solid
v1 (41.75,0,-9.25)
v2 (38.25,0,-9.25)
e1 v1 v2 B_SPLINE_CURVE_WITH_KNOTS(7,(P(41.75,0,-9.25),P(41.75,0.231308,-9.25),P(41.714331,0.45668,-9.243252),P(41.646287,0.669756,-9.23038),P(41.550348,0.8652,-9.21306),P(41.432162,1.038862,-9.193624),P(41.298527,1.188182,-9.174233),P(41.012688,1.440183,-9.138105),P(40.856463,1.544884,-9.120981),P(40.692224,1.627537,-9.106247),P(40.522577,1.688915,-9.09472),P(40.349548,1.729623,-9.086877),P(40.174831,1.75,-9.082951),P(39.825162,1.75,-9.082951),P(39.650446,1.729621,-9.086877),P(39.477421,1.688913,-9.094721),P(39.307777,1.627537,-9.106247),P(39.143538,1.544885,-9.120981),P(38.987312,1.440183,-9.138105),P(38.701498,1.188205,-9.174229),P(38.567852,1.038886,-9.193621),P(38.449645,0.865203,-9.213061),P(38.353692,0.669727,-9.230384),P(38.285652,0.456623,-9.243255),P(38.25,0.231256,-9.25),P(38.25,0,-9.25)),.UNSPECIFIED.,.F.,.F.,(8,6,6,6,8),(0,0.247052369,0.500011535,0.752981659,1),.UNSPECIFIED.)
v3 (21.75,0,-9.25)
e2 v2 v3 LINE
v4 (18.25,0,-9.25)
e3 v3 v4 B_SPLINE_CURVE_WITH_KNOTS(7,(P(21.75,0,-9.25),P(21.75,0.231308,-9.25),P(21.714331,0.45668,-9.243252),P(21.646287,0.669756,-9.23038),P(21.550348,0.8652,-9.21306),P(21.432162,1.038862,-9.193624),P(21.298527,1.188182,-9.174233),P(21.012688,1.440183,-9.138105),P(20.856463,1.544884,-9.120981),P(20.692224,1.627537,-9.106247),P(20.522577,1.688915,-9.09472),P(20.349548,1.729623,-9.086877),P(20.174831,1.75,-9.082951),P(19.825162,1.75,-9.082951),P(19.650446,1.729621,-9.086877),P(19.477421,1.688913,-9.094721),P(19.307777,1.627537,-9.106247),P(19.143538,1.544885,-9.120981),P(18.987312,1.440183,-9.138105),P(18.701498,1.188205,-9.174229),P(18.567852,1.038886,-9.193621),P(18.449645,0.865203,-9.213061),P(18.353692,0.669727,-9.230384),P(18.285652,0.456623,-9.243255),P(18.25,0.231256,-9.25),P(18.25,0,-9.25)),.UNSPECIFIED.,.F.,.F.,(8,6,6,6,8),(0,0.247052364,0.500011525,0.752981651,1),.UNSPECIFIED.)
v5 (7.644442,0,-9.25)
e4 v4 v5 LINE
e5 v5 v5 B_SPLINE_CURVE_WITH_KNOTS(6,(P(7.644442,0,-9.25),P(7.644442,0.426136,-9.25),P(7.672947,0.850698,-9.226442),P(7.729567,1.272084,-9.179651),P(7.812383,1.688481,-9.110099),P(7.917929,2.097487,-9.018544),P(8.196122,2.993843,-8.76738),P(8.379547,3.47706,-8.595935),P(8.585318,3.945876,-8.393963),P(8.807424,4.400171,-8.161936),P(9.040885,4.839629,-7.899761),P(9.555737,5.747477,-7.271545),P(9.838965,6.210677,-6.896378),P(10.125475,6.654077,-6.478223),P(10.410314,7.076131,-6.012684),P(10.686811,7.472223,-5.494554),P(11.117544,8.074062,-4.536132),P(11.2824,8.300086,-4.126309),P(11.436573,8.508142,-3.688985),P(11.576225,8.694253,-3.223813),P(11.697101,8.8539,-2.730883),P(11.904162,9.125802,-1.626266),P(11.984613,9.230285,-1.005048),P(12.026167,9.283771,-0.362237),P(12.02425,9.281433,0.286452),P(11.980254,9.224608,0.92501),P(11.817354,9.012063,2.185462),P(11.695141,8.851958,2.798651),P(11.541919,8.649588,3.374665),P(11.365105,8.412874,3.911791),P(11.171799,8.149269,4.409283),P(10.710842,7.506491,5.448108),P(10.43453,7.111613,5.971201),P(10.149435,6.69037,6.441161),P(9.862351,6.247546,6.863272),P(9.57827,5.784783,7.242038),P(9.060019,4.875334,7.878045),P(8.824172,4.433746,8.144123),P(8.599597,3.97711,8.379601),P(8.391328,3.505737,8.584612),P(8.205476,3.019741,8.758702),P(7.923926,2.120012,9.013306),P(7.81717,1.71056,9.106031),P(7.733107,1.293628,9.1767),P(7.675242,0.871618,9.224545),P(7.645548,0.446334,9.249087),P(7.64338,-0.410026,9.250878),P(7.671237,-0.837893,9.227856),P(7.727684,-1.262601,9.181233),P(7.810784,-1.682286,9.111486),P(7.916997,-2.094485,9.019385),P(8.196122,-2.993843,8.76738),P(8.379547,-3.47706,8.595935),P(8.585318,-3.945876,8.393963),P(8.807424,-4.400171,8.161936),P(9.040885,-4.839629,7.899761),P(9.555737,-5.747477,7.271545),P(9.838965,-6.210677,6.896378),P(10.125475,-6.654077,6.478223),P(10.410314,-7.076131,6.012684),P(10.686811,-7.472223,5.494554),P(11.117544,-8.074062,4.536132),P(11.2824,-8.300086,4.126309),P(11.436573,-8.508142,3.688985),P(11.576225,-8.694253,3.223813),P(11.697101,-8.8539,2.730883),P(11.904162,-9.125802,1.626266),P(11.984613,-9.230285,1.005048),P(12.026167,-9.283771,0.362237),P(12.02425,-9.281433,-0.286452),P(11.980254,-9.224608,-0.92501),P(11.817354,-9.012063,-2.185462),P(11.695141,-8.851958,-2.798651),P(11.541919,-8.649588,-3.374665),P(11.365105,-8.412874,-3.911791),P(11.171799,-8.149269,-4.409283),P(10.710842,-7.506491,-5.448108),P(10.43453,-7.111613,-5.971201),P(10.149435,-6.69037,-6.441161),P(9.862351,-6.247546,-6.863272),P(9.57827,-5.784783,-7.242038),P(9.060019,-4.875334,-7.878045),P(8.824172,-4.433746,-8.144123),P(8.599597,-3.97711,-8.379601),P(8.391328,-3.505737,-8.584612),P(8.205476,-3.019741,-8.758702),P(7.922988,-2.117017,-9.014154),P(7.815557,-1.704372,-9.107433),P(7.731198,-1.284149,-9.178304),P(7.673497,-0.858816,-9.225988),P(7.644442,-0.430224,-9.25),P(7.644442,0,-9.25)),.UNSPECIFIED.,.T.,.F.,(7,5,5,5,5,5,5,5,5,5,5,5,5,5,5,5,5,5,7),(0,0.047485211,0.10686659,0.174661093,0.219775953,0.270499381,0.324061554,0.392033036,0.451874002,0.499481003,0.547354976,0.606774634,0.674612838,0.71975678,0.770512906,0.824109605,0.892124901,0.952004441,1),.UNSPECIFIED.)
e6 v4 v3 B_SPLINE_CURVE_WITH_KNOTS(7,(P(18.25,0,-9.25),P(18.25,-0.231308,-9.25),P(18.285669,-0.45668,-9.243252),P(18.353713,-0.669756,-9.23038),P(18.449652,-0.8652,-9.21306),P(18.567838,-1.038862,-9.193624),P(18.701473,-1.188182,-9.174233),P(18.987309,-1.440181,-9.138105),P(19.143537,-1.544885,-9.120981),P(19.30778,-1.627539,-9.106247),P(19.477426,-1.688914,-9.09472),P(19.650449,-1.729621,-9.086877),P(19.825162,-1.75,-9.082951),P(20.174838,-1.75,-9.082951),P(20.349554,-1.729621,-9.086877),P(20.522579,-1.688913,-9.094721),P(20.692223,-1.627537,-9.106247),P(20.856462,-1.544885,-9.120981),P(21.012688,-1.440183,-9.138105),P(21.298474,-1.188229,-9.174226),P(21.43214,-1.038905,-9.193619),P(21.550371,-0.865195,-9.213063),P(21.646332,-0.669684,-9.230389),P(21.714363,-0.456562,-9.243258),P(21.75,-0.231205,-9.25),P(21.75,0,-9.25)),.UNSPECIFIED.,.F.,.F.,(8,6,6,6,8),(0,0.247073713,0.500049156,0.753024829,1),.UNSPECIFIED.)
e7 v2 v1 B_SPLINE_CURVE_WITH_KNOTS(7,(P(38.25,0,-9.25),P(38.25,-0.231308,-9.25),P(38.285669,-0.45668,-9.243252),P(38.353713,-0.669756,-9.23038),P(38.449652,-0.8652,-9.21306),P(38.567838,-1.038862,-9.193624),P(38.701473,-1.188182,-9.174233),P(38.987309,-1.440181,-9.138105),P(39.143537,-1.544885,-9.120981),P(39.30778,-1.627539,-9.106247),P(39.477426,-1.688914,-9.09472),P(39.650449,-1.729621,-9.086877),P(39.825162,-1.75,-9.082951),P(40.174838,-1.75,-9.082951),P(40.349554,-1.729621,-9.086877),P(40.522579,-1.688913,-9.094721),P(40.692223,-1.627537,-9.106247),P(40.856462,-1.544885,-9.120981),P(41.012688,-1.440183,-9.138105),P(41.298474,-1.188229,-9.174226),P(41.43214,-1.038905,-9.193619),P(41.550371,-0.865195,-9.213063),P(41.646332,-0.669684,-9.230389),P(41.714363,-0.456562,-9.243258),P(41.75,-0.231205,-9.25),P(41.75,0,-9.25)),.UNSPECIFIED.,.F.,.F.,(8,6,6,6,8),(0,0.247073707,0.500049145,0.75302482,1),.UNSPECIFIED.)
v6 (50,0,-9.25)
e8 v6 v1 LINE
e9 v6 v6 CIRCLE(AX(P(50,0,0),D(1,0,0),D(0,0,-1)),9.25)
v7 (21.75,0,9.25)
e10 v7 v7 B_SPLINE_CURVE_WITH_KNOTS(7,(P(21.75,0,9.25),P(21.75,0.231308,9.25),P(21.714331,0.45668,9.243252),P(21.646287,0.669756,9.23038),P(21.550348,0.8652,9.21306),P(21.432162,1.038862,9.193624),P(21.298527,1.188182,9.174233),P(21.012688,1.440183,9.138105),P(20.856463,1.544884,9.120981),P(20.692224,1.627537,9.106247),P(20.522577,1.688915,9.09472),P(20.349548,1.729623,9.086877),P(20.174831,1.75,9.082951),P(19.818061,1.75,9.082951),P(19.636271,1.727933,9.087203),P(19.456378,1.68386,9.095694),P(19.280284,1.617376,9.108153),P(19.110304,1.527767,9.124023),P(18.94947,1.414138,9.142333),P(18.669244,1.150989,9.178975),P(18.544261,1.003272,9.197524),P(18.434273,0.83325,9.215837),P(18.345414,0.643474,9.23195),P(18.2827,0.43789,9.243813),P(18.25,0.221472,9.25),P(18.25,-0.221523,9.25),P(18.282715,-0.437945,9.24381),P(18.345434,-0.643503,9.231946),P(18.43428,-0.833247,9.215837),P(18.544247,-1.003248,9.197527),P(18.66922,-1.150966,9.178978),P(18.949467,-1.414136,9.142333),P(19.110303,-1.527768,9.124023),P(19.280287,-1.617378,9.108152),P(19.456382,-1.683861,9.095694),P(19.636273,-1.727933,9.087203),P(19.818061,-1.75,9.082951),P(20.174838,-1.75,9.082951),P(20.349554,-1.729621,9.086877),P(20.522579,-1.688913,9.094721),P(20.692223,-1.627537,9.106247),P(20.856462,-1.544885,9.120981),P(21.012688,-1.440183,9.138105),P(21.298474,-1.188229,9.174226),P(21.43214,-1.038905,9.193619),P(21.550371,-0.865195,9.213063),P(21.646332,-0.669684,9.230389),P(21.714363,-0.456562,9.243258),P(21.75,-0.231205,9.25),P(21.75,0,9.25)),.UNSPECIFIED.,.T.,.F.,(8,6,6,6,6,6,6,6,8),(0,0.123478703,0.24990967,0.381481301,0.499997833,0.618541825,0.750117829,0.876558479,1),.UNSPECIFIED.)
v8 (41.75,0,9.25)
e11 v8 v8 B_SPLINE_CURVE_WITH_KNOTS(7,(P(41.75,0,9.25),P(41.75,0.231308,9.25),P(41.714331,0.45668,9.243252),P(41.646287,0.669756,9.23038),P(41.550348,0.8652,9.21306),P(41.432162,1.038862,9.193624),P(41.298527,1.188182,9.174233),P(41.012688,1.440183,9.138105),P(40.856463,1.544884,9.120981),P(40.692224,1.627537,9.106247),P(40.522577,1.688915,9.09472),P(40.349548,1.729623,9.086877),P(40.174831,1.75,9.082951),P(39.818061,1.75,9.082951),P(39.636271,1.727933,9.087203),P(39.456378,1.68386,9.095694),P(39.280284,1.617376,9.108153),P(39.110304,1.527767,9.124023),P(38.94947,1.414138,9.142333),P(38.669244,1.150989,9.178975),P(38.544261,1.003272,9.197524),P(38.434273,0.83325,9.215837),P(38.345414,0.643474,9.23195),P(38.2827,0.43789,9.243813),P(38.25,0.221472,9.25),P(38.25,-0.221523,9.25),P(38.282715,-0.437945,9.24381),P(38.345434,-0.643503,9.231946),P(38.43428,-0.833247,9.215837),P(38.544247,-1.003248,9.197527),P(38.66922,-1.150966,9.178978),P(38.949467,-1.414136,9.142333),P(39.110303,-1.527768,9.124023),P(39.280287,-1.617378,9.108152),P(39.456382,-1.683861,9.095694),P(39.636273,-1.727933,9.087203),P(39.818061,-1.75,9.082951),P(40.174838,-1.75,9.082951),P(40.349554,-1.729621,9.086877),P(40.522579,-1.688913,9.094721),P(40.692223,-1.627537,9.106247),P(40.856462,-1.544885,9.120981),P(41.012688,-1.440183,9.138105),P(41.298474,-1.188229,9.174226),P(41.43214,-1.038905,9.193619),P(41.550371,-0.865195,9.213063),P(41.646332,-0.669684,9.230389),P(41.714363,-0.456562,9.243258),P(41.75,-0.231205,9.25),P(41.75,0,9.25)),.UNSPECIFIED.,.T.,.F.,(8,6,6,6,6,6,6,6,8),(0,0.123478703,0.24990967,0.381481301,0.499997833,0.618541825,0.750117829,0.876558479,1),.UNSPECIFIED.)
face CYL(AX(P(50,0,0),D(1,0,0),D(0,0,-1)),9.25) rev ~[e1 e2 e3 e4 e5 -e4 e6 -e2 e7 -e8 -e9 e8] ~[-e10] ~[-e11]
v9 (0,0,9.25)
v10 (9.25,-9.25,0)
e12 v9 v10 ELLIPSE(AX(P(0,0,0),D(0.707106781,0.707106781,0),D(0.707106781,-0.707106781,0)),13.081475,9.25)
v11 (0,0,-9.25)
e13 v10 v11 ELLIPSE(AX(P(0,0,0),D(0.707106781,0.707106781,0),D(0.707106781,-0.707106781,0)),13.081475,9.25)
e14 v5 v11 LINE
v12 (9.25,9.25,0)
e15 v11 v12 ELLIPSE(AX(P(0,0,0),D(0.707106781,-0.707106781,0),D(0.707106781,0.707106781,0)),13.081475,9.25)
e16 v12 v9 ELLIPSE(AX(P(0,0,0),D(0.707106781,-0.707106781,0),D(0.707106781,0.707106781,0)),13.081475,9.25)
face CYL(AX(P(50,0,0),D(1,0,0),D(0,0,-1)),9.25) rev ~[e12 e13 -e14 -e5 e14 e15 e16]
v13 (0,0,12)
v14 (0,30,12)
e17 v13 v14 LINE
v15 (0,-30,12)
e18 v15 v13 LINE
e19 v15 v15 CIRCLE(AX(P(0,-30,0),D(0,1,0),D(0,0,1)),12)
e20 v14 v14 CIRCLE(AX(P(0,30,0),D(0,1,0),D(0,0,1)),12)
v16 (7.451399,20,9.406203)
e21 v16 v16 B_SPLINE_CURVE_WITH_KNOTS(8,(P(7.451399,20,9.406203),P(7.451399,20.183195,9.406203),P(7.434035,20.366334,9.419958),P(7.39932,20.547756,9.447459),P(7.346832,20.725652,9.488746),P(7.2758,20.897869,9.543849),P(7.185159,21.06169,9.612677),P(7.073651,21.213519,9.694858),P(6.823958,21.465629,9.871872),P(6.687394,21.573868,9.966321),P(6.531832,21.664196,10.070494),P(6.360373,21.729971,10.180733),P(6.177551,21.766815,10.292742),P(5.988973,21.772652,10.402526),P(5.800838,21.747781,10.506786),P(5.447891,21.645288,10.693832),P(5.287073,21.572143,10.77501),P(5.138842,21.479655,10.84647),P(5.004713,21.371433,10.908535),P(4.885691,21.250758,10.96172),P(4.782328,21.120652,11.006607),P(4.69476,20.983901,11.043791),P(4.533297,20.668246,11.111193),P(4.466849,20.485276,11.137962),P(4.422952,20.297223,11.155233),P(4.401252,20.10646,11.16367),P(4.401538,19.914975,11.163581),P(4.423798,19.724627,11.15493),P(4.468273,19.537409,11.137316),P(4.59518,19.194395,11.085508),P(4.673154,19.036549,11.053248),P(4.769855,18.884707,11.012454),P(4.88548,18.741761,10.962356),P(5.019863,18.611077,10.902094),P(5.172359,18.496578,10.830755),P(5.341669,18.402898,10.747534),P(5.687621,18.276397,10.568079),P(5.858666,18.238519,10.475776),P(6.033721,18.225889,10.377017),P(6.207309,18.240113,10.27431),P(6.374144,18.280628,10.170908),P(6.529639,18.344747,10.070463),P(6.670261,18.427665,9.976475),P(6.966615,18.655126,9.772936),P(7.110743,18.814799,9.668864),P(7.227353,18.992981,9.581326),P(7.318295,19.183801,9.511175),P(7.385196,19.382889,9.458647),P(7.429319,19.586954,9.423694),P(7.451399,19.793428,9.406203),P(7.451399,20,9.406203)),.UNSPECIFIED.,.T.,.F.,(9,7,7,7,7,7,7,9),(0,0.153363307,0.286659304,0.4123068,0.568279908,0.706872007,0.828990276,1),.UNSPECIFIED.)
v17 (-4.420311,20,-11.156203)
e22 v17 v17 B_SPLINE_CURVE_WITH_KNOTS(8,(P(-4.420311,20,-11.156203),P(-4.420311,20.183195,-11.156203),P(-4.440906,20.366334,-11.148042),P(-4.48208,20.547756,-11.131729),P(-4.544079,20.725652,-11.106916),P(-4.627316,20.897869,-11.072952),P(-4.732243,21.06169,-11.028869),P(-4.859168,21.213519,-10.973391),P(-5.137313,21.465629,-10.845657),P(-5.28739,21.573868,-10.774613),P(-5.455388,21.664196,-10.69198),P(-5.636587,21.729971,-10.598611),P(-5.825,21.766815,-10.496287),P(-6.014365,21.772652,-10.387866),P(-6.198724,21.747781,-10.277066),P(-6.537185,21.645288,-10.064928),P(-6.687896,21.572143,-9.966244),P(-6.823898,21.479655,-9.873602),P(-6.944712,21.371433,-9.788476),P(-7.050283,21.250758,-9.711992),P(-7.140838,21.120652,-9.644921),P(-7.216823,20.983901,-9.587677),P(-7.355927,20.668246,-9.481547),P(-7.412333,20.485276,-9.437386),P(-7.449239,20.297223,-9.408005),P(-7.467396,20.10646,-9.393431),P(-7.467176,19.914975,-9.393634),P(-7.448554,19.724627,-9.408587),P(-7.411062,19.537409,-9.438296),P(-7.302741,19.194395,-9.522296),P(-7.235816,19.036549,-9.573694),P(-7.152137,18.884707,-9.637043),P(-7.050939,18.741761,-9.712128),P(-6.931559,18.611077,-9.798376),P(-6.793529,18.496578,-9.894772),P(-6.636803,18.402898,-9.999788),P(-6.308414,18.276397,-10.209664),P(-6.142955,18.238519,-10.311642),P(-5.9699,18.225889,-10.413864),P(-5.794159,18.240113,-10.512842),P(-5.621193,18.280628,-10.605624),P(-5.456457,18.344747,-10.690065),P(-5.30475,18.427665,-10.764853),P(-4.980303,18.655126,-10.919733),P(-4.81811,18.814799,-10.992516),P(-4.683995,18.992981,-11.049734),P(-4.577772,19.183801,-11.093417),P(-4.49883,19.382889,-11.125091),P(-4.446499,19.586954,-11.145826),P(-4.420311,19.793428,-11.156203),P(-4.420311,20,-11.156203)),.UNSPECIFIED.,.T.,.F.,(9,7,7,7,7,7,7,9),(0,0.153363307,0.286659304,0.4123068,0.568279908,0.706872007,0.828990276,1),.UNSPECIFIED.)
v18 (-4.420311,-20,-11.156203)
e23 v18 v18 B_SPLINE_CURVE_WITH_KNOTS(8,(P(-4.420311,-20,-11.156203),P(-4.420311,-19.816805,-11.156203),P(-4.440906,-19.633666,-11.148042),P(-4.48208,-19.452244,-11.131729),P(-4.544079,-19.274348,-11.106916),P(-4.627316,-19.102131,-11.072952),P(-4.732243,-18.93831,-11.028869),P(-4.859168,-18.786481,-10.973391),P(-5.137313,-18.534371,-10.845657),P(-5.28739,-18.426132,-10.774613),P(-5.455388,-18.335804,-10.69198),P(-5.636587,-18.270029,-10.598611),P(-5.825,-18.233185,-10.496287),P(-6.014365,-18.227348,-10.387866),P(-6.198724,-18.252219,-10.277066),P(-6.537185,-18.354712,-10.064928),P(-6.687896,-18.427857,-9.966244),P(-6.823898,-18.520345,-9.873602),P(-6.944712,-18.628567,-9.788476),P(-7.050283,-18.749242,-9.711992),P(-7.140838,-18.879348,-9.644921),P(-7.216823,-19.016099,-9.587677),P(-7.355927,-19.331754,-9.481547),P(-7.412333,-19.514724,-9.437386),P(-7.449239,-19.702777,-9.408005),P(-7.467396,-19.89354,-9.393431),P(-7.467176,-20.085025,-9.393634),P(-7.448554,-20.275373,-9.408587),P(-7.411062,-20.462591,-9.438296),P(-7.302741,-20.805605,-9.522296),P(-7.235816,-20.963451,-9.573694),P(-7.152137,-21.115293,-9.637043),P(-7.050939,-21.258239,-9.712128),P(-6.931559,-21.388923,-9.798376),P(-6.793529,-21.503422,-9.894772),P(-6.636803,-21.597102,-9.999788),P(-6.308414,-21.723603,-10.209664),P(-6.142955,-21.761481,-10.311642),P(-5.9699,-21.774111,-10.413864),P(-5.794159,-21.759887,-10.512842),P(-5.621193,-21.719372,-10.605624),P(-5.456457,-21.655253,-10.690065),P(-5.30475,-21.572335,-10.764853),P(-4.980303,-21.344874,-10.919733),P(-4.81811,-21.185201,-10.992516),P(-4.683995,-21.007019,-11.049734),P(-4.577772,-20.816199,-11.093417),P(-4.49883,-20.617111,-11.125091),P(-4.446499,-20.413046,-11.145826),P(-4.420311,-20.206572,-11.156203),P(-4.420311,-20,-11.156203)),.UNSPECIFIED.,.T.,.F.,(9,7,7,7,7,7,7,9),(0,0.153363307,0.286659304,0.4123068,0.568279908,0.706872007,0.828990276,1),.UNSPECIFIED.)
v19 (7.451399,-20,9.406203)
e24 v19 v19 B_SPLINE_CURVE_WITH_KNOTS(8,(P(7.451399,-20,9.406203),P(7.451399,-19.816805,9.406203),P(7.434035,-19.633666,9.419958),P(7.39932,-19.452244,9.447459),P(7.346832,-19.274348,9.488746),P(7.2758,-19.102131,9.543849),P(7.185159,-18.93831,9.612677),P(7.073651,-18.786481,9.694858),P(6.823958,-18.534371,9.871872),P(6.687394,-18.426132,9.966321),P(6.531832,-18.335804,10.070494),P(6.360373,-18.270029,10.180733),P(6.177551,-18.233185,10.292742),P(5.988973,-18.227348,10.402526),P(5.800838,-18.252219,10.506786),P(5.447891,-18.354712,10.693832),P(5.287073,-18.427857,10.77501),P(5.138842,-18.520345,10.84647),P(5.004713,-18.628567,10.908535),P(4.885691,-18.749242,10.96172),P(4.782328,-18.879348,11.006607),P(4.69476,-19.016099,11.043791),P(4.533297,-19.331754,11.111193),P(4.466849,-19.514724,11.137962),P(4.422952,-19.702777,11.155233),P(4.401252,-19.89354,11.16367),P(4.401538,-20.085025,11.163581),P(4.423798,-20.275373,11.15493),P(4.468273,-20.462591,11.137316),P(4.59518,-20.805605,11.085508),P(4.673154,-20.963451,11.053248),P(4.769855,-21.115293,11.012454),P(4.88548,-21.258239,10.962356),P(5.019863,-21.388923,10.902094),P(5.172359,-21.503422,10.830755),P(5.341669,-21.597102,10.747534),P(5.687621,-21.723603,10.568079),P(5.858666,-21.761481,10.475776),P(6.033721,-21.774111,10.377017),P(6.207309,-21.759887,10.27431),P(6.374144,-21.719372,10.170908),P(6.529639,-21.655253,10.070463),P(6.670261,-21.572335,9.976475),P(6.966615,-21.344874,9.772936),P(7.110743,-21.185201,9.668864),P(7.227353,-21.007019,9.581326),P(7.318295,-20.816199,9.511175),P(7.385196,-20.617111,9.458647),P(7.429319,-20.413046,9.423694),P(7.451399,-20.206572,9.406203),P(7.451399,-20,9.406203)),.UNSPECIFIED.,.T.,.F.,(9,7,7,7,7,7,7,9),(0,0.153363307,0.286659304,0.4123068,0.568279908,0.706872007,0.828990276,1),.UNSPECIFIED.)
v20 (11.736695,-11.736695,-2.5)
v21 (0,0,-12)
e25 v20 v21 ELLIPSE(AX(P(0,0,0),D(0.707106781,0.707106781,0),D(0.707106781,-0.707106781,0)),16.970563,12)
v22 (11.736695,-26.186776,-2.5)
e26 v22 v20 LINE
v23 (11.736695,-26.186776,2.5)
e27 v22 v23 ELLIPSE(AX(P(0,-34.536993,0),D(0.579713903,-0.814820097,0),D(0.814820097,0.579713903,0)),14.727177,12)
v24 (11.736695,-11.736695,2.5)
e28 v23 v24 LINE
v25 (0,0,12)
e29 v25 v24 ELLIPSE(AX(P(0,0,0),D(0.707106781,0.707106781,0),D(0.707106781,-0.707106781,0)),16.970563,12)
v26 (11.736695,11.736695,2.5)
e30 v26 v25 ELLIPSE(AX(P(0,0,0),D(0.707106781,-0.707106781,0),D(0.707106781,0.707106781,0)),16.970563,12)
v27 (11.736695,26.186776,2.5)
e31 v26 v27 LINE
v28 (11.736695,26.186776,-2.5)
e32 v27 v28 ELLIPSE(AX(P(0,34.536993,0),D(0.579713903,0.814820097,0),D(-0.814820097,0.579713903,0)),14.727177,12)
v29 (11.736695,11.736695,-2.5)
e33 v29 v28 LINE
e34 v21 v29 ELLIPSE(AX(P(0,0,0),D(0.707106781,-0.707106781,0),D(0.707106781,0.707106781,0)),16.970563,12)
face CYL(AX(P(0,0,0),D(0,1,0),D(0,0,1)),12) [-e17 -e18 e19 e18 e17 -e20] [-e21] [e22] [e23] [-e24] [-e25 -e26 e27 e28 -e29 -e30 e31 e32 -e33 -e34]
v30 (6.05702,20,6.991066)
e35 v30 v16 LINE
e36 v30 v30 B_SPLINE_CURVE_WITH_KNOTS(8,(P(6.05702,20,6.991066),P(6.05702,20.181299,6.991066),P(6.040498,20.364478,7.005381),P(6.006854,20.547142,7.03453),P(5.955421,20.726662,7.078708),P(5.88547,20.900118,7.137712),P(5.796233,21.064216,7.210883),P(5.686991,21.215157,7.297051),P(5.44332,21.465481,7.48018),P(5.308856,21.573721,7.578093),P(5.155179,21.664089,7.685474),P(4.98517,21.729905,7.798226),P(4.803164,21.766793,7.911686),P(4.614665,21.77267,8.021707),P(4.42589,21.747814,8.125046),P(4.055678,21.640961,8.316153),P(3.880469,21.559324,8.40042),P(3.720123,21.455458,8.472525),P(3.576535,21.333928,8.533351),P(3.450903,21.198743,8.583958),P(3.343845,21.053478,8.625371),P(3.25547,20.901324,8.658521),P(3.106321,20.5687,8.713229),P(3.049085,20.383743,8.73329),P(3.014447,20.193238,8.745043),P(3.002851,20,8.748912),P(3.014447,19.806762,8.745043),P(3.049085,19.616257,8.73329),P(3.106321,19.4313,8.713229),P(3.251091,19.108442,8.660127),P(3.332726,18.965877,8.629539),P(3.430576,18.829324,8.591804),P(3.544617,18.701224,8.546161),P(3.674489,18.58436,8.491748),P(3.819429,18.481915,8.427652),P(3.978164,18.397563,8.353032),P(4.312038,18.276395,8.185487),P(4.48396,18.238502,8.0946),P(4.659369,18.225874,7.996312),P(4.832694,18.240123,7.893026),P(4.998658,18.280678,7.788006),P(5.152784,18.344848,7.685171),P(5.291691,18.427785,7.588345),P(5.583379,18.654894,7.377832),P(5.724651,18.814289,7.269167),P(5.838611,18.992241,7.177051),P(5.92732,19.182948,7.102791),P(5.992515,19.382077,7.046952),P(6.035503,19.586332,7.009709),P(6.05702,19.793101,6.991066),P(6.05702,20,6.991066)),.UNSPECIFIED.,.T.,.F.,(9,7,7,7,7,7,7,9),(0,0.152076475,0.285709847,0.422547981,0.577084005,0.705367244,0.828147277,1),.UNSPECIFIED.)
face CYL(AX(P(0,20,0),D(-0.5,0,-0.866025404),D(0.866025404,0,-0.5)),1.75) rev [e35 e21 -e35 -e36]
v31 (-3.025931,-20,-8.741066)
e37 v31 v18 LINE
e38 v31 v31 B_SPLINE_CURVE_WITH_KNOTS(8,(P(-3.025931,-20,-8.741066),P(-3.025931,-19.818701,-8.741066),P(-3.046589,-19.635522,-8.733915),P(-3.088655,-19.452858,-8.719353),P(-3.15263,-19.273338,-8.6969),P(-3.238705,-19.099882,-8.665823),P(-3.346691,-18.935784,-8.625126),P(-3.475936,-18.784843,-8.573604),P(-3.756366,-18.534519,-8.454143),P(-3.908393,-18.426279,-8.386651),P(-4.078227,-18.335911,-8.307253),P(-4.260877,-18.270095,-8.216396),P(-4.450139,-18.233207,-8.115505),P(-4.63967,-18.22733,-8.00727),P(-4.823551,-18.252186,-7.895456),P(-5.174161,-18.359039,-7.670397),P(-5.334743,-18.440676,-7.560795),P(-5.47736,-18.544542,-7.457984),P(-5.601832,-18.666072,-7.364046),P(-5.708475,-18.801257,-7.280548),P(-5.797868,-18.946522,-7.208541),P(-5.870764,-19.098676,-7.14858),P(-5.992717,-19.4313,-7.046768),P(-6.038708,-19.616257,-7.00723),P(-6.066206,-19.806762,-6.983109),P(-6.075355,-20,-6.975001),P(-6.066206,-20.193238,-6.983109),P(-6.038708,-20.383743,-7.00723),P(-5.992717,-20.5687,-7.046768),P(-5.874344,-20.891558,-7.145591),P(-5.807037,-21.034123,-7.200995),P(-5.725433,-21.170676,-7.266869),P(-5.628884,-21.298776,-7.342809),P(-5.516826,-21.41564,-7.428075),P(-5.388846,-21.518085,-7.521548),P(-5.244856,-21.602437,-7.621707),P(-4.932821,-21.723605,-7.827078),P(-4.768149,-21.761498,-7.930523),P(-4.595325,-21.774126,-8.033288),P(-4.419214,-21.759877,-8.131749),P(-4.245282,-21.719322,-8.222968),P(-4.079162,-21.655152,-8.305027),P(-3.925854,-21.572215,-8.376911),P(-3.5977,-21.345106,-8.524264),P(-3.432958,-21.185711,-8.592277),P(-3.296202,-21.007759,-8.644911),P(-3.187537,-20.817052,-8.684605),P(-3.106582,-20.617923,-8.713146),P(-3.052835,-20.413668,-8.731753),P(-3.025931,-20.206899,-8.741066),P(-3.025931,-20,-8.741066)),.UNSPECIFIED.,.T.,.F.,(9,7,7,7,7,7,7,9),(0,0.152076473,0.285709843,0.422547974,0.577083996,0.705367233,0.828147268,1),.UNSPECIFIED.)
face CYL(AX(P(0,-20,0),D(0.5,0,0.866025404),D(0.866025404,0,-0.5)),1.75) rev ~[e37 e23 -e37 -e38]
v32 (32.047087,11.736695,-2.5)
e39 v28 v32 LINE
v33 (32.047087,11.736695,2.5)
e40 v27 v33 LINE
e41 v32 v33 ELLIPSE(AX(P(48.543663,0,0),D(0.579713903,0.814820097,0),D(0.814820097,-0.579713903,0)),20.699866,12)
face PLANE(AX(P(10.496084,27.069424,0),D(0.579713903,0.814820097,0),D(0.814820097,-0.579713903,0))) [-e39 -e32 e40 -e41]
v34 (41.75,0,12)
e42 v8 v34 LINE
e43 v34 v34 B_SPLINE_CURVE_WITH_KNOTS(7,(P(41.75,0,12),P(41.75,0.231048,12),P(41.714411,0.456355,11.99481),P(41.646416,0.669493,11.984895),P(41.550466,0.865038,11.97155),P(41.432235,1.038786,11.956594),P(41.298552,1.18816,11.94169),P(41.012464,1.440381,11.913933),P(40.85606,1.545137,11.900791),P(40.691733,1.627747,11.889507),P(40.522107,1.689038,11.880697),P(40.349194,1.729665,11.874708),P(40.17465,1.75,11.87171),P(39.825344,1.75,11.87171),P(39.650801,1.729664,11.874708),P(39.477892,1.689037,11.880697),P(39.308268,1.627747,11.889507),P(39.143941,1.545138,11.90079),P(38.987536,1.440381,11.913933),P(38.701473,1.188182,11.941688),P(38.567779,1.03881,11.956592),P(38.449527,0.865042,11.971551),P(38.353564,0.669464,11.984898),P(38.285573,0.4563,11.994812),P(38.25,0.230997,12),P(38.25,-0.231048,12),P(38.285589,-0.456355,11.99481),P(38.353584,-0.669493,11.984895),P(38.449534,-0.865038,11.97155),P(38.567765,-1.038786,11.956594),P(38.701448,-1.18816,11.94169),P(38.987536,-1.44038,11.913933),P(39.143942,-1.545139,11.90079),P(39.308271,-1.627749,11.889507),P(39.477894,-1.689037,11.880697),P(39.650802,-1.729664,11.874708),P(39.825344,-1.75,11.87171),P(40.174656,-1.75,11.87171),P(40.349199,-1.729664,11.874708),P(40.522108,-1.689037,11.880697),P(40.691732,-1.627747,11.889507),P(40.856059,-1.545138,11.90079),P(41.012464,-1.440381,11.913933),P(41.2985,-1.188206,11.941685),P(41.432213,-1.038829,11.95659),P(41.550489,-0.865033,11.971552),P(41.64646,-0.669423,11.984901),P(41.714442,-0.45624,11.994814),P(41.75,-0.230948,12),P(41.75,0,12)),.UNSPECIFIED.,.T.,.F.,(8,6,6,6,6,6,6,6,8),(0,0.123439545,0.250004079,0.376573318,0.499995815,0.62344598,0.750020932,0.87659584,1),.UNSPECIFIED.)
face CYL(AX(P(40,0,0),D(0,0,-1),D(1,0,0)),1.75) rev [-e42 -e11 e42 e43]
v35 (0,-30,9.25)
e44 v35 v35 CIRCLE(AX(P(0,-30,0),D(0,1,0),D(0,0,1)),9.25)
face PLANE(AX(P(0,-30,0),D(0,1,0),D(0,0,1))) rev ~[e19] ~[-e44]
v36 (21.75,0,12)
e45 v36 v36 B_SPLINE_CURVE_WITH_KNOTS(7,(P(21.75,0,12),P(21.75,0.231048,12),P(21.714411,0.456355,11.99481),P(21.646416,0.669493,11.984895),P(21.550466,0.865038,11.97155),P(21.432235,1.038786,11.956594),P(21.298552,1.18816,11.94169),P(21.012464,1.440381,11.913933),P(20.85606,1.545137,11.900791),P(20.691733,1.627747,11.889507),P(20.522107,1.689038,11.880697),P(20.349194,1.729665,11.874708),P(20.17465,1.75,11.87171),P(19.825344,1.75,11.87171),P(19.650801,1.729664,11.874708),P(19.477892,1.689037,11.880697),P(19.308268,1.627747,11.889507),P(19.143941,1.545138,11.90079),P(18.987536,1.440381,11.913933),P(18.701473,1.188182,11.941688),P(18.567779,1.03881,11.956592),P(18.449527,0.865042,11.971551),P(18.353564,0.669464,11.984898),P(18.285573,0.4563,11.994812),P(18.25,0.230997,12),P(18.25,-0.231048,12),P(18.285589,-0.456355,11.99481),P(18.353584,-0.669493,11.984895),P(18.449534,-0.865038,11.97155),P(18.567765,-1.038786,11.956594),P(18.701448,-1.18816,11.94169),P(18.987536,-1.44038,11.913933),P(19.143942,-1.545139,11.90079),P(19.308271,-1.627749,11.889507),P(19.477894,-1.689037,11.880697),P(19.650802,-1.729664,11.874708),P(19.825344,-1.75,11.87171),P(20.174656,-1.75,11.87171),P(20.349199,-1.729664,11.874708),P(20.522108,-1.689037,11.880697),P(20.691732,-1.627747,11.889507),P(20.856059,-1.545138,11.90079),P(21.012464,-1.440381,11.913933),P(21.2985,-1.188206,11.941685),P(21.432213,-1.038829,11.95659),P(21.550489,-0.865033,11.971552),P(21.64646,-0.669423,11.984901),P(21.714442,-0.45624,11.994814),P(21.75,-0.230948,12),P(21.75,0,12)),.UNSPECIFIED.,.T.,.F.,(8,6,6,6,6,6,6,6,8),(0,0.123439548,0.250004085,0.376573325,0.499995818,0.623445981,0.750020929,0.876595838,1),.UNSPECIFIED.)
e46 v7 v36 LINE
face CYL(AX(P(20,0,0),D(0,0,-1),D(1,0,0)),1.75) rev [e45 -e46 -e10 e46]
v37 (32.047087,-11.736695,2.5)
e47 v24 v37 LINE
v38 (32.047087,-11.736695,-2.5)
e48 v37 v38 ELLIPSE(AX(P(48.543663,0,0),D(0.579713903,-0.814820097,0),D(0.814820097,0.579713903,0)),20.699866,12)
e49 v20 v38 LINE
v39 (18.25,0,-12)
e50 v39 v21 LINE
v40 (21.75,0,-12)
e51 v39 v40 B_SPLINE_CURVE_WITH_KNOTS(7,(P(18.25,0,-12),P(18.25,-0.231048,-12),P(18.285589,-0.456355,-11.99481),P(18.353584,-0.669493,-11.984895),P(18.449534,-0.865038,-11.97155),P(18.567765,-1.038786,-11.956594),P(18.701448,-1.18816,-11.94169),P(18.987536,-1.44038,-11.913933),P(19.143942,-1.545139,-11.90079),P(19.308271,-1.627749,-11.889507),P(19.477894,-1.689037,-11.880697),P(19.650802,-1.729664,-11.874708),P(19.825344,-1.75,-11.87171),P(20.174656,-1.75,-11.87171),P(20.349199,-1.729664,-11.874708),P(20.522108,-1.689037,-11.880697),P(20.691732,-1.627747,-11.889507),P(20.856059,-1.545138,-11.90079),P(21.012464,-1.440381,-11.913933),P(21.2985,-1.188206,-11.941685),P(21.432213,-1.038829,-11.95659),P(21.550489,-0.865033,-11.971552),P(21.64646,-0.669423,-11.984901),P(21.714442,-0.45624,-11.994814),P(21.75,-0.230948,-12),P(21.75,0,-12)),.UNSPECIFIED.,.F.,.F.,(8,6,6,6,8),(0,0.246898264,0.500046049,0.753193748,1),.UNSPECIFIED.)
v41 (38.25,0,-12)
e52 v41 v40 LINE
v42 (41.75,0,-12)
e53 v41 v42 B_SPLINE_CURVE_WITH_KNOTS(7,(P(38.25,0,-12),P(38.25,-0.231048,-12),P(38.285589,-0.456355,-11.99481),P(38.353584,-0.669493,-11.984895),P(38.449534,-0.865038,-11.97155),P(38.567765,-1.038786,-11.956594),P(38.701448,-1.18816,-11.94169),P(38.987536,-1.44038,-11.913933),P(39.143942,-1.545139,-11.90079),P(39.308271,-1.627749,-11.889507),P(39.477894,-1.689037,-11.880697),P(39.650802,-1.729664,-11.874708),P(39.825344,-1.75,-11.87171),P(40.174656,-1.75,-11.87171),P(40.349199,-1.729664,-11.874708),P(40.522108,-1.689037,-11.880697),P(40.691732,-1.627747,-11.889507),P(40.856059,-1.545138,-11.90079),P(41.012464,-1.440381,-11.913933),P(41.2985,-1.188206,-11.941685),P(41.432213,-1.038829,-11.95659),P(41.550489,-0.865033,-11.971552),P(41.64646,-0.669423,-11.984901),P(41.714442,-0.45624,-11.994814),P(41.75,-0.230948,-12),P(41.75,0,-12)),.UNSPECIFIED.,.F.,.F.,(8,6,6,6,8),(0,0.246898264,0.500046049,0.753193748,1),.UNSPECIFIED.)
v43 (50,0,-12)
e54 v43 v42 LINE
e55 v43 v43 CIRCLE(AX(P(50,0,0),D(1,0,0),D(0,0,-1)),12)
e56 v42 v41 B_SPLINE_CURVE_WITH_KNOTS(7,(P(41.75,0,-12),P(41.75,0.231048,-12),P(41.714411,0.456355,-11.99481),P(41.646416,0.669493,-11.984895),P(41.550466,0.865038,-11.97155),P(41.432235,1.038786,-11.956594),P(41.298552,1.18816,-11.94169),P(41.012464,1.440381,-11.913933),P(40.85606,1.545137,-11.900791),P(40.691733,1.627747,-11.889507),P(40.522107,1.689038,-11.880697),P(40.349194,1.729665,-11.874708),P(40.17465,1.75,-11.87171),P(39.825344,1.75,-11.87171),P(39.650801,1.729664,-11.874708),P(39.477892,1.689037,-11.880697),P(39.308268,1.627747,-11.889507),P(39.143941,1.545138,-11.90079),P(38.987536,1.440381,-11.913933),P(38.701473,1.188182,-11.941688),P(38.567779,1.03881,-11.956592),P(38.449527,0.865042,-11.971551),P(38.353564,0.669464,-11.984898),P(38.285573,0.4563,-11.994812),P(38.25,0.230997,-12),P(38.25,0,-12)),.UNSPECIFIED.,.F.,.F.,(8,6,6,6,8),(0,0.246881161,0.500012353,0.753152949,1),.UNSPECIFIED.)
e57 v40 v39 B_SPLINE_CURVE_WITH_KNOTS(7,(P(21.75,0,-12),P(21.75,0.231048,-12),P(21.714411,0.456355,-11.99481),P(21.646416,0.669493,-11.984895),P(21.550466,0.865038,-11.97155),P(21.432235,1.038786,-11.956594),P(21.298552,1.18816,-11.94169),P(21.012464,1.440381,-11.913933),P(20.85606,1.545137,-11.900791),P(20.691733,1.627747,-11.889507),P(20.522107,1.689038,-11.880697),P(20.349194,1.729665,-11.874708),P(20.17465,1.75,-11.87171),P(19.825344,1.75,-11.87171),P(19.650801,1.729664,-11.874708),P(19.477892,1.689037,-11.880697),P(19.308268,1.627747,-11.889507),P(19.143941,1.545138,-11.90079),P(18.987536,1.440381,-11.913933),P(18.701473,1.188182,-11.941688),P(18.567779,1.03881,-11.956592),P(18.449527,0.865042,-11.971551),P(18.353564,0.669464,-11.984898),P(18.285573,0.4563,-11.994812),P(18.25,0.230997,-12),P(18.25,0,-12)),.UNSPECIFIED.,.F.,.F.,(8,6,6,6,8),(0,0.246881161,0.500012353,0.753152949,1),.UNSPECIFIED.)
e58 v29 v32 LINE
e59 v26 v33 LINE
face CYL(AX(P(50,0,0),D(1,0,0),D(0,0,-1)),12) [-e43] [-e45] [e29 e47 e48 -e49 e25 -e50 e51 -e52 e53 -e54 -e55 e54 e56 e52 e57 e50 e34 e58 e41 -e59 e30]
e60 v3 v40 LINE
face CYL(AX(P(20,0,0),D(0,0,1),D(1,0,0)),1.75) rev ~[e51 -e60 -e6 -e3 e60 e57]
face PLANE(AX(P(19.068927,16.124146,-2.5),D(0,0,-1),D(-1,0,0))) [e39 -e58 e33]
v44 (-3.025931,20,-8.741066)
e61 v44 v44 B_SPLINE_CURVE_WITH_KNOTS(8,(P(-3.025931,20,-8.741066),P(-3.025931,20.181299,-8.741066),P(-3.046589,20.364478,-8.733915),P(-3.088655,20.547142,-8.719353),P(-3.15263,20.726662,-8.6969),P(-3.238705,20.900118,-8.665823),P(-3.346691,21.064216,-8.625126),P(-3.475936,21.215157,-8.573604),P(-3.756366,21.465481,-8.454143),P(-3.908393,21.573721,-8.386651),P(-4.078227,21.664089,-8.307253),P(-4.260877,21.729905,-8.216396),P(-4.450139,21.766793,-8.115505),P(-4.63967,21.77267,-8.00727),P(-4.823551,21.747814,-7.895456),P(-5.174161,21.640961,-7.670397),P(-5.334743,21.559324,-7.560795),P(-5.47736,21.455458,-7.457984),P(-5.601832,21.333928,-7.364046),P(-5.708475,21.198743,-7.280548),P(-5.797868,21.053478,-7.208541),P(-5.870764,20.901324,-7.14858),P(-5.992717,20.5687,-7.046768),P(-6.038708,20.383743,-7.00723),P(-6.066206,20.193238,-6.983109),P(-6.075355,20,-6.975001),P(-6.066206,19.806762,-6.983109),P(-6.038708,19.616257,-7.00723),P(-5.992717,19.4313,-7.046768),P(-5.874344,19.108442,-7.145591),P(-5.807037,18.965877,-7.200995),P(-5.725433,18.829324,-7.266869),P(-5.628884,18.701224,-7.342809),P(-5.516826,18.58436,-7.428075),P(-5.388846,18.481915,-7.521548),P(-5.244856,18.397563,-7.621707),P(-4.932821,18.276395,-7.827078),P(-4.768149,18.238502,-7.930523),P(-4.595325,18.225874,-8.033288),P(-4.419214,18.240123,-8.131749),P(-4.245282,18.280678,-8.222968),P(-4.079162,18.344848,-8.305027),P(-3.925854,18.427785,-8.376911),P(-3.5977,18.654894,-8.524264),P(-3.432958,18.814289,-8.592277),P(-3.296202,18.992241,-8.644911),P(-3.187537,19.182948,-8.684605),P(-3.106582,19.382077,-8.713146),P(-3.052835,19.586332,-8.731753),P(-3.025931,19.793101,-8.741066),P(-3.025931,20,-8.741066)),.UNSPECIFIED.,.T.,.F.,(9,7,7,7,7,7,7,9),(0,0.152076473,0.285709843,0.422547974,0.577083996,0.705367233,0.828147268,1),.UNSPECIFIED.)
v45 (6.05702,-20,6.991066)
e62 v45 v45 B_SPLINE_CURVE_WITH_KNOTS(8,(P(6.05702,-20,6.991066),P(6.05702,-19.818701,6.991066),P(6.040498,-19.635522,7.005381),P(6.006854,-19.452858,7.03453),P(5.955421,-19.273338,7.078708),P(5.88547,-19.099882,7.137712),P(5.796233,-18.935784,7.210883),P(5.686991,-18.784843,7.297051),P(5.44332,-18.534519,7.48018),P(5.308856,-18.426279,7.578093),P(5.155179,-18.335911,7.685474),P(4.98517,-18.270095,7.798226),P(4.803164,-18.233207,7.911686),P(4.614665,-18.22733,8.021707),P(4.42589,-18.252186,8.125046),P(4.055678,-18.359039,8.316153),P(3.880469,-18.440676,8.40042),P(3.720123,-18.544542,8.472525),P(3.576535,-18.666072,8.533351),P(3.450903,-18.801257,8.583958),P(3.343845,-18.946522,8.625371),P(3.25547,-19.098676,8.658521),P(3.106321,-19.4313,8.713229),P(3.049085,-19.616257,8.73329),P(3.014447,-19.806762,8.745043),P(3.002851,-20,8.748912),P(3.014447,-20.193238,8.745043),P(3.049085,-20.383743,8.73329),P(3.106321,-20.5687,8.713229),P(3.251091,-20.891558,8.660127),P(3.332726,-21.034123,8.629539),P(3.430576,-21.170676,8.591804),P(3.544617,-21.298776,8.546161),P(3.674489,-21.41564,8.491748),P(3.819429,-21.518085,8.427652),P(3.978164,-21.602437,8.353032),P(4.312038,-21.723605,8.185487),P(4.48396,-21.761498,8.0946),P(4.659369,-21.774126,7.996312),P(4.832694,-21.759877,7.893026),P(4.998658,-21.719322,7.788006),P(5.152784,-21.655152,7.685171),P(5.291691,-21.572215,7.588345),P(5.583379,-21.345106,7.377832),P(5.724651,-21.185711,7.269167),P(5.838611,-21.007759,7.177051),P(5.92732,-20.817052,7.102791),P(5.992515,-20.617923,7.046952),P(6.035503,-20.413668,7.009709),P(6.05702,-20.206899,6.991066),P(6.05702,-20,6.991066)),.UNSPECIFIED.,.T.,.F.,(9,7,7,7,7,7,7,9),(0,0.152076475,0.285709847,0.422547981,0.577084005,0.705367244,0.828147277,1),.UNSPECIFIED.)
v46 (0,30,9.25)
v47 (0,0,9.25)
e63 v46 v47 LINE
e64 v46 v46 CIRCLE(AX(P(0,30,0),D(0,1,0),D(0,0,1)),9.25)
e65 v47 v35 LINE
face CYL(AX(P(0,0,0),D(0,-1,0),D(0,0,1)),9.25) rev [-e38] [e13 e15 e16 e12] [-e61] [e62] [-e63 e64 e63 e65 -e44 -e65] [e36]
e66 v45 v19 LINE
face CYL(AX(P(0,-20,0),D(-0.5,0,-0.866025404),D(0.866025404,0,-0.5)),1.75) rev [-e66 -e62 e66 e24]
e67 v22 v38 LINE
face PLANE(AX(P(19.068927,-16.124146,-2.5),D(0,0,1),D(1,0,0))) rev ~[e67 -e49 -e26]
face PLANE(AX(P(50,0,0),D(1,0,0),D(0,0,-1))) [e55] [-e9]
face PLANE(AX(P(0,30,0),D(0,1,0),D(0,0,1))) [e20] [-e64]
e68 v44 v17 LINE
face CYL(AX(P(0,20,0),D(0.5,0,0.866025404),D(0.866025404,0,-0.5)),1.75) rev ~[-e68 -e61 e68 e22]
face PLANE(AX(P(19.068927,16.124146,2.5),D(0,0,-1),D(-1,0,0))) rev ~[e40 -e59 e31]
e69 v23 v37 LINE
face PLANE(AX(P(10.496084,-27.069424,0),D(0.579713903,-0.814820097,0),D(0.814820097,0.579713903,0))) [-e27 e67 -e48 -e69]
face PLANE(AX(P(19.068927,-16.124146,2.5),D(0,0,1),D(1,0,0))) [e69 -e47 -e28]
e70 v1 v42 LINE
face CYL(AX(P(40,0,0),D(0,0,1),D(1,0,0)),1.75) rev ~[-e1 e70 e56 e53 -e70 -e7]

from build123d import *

# Parameters (mm, degrees)
SKETCH_1_R               = 12
SKETCH_1_R_2             = 9.25
EXTRUDE_1_DEPTH          = 30
EXTRUDE_2_REACH          = 86.467
EXTRUDE_START            = 50
SKETCH_2_R               = 12
SKETCH_2_R_2             = 9.25
CUT_EXTRUDE_1_DEPTH      = 60.531504349
CUT_EXTRUDE_1_DEPTH_BACK = 60.531504349
SKETCH_3_R               = 1.75
CUT_EXTRUDE_2_DEPTH      = 60.531504419
CUT_EXTRUDE_2_DEPTH_BACK = 60.531504419
SKETCH_4_R               = 1.75
EXTRUDE_3_DEPTH          = 2.5
CUT_EXTRUDE_3_REACH      = 71.914
CUT_EXTRUDE_3_END_RADIUS = 9.25
SKETCH_6_R               = 9.25


with BuildPart() as part:
    # ｽｹｯﾁ1 → ﾎﾞｽ - 押し出し1 (new, symmetric)
    with BuildSketch(Plane(origin=(0, 0, 0), x_dir=(1, 0, 0), z_dir=(0, 1, 0))):
        Circle(SKETCH_1_R)
        Circle(SKETCH_1_R_2, mode=Mode.SUBTRACT)
    extrude(amount=EXTRUDE_1_DEPTH, both=True)

    # ｽｹｯﾁ2 → ﾎﾞｽ - 押し出し2 (add, up to next)
    with BuildSketch(Plane(origin=(0, 0, 0), x_dir=(0, 0, -1), z_dir=(1, 0, 0)).offset(EXTRUDE_START), mode=Mode.PRIVATE) as extrude_2_sk1:
        Circle(SKETCH_2_R)
        Circle(SKETCH_2_R_2, mode=Mode.SUBTRACT)
    extrude_2_tool1 = extrude(extrude_2_sk1.sketch, amount=-EXTRUDE_2_REACH, mode=Mode.PRIVATE) - part.part
    add(extrude_2_tool1.solids().sort_by_distance((50, 0, 11.660589))[0])

    # ｽｹｯﾁ3 → ｶｯﾄ - 押し出し1 (cut, two sides: drawn at the far end of the back side and taken through both)
    with BuildSketch(Plane(origin=(0, 0, 0), x_dir=(0, -1, 0), z_dir=(0.499999999999998, 0, 0.8660254037844398)).offset(-CUT_EXTRUDE_1_DEPTH_BACK)):
        with Locations((-20, 0)):
            Circle(SKETCH_3_R)
        with Locations((20, 0)):
            Circle(SKETCH_3_R)
    extrude(amount=CUT_EXTRUDE_1_DEPTH + CUT_EXTRUDE_1_DEPTH_BACK, mode=Mode.SUBTRACT)

    # ｽｹｯﾁ4 → ｶｯﾄ - 押し出し2 (cut, two sides: drawn at the far end of the back side and taken through both)
    with BuildSketch(Plane.XY.offset(-CUT_EXTRUDE_2_DEPTH_BACK)):
        with Locations((20, 0)):
            Circle(SKETCH_4_R)
        with Locations((40, 0)):
            Circle(SKETCH_4_R)
    extrude(amount=CUT_EXTRUDE_2_DEPTH + CUT_EXTRUDE_2_DEPTH_BACK, mode=Mode.SUBTRACT)

    # ｽｹｯﾁ5 → ﾎﾞｽ - 押し出し3 (add, symmetric)
    with BuildSketch(Plane.XY):
        Polygon((10.496083989, 27.069423811), (33.248789053, 10.881728509), (10.496083989, 10.496083989), align=None)
        Polygon((33.248789053, -10.881728509), (10.496083989, -10.496083989), (10.496083989, -27.069423811), align=None)
    extrude(amount=EXTRUDE_3_DEPTH, both=True)

    # ｶｯﾄ - 押し出し3: up to this cylinder (the profile starts outside it)
    cut_extrude_3_end = Plane(origin=(0, 0, 0), z_dir=(0, -1, 0)) * Cylinder(CUT_EXTRUDE_3_END_RADIUS, 163.328, mode=Mode.PRIVATE)
    # ｽｹｯﾁ6 → ｶｯﾄ - 押し出し3 (cut, up to the surface)
    with BuildSketch(Plane(origin=(50, 0, 0), x_dir=(0, 0, -1), z_dir=(1, 0, 0)), mode=Mode.PRIVATE) as cut_extrude_3_sk1:
        Circle(SKETCH_6_R)
    cut_extrude_3_tool1 = extrude(cut_extrude_3_sk1.sketch, amount=-CUT_EXTRUDE_3_REACH, mode=Mode.PRIVATE) - cut_extrude_3_end
    add(cut_extrude_3_tool1.solids().sort_by_distance((50, 0, 0))[0], mode=Mode.SUBTRACT)


solid = part.part
